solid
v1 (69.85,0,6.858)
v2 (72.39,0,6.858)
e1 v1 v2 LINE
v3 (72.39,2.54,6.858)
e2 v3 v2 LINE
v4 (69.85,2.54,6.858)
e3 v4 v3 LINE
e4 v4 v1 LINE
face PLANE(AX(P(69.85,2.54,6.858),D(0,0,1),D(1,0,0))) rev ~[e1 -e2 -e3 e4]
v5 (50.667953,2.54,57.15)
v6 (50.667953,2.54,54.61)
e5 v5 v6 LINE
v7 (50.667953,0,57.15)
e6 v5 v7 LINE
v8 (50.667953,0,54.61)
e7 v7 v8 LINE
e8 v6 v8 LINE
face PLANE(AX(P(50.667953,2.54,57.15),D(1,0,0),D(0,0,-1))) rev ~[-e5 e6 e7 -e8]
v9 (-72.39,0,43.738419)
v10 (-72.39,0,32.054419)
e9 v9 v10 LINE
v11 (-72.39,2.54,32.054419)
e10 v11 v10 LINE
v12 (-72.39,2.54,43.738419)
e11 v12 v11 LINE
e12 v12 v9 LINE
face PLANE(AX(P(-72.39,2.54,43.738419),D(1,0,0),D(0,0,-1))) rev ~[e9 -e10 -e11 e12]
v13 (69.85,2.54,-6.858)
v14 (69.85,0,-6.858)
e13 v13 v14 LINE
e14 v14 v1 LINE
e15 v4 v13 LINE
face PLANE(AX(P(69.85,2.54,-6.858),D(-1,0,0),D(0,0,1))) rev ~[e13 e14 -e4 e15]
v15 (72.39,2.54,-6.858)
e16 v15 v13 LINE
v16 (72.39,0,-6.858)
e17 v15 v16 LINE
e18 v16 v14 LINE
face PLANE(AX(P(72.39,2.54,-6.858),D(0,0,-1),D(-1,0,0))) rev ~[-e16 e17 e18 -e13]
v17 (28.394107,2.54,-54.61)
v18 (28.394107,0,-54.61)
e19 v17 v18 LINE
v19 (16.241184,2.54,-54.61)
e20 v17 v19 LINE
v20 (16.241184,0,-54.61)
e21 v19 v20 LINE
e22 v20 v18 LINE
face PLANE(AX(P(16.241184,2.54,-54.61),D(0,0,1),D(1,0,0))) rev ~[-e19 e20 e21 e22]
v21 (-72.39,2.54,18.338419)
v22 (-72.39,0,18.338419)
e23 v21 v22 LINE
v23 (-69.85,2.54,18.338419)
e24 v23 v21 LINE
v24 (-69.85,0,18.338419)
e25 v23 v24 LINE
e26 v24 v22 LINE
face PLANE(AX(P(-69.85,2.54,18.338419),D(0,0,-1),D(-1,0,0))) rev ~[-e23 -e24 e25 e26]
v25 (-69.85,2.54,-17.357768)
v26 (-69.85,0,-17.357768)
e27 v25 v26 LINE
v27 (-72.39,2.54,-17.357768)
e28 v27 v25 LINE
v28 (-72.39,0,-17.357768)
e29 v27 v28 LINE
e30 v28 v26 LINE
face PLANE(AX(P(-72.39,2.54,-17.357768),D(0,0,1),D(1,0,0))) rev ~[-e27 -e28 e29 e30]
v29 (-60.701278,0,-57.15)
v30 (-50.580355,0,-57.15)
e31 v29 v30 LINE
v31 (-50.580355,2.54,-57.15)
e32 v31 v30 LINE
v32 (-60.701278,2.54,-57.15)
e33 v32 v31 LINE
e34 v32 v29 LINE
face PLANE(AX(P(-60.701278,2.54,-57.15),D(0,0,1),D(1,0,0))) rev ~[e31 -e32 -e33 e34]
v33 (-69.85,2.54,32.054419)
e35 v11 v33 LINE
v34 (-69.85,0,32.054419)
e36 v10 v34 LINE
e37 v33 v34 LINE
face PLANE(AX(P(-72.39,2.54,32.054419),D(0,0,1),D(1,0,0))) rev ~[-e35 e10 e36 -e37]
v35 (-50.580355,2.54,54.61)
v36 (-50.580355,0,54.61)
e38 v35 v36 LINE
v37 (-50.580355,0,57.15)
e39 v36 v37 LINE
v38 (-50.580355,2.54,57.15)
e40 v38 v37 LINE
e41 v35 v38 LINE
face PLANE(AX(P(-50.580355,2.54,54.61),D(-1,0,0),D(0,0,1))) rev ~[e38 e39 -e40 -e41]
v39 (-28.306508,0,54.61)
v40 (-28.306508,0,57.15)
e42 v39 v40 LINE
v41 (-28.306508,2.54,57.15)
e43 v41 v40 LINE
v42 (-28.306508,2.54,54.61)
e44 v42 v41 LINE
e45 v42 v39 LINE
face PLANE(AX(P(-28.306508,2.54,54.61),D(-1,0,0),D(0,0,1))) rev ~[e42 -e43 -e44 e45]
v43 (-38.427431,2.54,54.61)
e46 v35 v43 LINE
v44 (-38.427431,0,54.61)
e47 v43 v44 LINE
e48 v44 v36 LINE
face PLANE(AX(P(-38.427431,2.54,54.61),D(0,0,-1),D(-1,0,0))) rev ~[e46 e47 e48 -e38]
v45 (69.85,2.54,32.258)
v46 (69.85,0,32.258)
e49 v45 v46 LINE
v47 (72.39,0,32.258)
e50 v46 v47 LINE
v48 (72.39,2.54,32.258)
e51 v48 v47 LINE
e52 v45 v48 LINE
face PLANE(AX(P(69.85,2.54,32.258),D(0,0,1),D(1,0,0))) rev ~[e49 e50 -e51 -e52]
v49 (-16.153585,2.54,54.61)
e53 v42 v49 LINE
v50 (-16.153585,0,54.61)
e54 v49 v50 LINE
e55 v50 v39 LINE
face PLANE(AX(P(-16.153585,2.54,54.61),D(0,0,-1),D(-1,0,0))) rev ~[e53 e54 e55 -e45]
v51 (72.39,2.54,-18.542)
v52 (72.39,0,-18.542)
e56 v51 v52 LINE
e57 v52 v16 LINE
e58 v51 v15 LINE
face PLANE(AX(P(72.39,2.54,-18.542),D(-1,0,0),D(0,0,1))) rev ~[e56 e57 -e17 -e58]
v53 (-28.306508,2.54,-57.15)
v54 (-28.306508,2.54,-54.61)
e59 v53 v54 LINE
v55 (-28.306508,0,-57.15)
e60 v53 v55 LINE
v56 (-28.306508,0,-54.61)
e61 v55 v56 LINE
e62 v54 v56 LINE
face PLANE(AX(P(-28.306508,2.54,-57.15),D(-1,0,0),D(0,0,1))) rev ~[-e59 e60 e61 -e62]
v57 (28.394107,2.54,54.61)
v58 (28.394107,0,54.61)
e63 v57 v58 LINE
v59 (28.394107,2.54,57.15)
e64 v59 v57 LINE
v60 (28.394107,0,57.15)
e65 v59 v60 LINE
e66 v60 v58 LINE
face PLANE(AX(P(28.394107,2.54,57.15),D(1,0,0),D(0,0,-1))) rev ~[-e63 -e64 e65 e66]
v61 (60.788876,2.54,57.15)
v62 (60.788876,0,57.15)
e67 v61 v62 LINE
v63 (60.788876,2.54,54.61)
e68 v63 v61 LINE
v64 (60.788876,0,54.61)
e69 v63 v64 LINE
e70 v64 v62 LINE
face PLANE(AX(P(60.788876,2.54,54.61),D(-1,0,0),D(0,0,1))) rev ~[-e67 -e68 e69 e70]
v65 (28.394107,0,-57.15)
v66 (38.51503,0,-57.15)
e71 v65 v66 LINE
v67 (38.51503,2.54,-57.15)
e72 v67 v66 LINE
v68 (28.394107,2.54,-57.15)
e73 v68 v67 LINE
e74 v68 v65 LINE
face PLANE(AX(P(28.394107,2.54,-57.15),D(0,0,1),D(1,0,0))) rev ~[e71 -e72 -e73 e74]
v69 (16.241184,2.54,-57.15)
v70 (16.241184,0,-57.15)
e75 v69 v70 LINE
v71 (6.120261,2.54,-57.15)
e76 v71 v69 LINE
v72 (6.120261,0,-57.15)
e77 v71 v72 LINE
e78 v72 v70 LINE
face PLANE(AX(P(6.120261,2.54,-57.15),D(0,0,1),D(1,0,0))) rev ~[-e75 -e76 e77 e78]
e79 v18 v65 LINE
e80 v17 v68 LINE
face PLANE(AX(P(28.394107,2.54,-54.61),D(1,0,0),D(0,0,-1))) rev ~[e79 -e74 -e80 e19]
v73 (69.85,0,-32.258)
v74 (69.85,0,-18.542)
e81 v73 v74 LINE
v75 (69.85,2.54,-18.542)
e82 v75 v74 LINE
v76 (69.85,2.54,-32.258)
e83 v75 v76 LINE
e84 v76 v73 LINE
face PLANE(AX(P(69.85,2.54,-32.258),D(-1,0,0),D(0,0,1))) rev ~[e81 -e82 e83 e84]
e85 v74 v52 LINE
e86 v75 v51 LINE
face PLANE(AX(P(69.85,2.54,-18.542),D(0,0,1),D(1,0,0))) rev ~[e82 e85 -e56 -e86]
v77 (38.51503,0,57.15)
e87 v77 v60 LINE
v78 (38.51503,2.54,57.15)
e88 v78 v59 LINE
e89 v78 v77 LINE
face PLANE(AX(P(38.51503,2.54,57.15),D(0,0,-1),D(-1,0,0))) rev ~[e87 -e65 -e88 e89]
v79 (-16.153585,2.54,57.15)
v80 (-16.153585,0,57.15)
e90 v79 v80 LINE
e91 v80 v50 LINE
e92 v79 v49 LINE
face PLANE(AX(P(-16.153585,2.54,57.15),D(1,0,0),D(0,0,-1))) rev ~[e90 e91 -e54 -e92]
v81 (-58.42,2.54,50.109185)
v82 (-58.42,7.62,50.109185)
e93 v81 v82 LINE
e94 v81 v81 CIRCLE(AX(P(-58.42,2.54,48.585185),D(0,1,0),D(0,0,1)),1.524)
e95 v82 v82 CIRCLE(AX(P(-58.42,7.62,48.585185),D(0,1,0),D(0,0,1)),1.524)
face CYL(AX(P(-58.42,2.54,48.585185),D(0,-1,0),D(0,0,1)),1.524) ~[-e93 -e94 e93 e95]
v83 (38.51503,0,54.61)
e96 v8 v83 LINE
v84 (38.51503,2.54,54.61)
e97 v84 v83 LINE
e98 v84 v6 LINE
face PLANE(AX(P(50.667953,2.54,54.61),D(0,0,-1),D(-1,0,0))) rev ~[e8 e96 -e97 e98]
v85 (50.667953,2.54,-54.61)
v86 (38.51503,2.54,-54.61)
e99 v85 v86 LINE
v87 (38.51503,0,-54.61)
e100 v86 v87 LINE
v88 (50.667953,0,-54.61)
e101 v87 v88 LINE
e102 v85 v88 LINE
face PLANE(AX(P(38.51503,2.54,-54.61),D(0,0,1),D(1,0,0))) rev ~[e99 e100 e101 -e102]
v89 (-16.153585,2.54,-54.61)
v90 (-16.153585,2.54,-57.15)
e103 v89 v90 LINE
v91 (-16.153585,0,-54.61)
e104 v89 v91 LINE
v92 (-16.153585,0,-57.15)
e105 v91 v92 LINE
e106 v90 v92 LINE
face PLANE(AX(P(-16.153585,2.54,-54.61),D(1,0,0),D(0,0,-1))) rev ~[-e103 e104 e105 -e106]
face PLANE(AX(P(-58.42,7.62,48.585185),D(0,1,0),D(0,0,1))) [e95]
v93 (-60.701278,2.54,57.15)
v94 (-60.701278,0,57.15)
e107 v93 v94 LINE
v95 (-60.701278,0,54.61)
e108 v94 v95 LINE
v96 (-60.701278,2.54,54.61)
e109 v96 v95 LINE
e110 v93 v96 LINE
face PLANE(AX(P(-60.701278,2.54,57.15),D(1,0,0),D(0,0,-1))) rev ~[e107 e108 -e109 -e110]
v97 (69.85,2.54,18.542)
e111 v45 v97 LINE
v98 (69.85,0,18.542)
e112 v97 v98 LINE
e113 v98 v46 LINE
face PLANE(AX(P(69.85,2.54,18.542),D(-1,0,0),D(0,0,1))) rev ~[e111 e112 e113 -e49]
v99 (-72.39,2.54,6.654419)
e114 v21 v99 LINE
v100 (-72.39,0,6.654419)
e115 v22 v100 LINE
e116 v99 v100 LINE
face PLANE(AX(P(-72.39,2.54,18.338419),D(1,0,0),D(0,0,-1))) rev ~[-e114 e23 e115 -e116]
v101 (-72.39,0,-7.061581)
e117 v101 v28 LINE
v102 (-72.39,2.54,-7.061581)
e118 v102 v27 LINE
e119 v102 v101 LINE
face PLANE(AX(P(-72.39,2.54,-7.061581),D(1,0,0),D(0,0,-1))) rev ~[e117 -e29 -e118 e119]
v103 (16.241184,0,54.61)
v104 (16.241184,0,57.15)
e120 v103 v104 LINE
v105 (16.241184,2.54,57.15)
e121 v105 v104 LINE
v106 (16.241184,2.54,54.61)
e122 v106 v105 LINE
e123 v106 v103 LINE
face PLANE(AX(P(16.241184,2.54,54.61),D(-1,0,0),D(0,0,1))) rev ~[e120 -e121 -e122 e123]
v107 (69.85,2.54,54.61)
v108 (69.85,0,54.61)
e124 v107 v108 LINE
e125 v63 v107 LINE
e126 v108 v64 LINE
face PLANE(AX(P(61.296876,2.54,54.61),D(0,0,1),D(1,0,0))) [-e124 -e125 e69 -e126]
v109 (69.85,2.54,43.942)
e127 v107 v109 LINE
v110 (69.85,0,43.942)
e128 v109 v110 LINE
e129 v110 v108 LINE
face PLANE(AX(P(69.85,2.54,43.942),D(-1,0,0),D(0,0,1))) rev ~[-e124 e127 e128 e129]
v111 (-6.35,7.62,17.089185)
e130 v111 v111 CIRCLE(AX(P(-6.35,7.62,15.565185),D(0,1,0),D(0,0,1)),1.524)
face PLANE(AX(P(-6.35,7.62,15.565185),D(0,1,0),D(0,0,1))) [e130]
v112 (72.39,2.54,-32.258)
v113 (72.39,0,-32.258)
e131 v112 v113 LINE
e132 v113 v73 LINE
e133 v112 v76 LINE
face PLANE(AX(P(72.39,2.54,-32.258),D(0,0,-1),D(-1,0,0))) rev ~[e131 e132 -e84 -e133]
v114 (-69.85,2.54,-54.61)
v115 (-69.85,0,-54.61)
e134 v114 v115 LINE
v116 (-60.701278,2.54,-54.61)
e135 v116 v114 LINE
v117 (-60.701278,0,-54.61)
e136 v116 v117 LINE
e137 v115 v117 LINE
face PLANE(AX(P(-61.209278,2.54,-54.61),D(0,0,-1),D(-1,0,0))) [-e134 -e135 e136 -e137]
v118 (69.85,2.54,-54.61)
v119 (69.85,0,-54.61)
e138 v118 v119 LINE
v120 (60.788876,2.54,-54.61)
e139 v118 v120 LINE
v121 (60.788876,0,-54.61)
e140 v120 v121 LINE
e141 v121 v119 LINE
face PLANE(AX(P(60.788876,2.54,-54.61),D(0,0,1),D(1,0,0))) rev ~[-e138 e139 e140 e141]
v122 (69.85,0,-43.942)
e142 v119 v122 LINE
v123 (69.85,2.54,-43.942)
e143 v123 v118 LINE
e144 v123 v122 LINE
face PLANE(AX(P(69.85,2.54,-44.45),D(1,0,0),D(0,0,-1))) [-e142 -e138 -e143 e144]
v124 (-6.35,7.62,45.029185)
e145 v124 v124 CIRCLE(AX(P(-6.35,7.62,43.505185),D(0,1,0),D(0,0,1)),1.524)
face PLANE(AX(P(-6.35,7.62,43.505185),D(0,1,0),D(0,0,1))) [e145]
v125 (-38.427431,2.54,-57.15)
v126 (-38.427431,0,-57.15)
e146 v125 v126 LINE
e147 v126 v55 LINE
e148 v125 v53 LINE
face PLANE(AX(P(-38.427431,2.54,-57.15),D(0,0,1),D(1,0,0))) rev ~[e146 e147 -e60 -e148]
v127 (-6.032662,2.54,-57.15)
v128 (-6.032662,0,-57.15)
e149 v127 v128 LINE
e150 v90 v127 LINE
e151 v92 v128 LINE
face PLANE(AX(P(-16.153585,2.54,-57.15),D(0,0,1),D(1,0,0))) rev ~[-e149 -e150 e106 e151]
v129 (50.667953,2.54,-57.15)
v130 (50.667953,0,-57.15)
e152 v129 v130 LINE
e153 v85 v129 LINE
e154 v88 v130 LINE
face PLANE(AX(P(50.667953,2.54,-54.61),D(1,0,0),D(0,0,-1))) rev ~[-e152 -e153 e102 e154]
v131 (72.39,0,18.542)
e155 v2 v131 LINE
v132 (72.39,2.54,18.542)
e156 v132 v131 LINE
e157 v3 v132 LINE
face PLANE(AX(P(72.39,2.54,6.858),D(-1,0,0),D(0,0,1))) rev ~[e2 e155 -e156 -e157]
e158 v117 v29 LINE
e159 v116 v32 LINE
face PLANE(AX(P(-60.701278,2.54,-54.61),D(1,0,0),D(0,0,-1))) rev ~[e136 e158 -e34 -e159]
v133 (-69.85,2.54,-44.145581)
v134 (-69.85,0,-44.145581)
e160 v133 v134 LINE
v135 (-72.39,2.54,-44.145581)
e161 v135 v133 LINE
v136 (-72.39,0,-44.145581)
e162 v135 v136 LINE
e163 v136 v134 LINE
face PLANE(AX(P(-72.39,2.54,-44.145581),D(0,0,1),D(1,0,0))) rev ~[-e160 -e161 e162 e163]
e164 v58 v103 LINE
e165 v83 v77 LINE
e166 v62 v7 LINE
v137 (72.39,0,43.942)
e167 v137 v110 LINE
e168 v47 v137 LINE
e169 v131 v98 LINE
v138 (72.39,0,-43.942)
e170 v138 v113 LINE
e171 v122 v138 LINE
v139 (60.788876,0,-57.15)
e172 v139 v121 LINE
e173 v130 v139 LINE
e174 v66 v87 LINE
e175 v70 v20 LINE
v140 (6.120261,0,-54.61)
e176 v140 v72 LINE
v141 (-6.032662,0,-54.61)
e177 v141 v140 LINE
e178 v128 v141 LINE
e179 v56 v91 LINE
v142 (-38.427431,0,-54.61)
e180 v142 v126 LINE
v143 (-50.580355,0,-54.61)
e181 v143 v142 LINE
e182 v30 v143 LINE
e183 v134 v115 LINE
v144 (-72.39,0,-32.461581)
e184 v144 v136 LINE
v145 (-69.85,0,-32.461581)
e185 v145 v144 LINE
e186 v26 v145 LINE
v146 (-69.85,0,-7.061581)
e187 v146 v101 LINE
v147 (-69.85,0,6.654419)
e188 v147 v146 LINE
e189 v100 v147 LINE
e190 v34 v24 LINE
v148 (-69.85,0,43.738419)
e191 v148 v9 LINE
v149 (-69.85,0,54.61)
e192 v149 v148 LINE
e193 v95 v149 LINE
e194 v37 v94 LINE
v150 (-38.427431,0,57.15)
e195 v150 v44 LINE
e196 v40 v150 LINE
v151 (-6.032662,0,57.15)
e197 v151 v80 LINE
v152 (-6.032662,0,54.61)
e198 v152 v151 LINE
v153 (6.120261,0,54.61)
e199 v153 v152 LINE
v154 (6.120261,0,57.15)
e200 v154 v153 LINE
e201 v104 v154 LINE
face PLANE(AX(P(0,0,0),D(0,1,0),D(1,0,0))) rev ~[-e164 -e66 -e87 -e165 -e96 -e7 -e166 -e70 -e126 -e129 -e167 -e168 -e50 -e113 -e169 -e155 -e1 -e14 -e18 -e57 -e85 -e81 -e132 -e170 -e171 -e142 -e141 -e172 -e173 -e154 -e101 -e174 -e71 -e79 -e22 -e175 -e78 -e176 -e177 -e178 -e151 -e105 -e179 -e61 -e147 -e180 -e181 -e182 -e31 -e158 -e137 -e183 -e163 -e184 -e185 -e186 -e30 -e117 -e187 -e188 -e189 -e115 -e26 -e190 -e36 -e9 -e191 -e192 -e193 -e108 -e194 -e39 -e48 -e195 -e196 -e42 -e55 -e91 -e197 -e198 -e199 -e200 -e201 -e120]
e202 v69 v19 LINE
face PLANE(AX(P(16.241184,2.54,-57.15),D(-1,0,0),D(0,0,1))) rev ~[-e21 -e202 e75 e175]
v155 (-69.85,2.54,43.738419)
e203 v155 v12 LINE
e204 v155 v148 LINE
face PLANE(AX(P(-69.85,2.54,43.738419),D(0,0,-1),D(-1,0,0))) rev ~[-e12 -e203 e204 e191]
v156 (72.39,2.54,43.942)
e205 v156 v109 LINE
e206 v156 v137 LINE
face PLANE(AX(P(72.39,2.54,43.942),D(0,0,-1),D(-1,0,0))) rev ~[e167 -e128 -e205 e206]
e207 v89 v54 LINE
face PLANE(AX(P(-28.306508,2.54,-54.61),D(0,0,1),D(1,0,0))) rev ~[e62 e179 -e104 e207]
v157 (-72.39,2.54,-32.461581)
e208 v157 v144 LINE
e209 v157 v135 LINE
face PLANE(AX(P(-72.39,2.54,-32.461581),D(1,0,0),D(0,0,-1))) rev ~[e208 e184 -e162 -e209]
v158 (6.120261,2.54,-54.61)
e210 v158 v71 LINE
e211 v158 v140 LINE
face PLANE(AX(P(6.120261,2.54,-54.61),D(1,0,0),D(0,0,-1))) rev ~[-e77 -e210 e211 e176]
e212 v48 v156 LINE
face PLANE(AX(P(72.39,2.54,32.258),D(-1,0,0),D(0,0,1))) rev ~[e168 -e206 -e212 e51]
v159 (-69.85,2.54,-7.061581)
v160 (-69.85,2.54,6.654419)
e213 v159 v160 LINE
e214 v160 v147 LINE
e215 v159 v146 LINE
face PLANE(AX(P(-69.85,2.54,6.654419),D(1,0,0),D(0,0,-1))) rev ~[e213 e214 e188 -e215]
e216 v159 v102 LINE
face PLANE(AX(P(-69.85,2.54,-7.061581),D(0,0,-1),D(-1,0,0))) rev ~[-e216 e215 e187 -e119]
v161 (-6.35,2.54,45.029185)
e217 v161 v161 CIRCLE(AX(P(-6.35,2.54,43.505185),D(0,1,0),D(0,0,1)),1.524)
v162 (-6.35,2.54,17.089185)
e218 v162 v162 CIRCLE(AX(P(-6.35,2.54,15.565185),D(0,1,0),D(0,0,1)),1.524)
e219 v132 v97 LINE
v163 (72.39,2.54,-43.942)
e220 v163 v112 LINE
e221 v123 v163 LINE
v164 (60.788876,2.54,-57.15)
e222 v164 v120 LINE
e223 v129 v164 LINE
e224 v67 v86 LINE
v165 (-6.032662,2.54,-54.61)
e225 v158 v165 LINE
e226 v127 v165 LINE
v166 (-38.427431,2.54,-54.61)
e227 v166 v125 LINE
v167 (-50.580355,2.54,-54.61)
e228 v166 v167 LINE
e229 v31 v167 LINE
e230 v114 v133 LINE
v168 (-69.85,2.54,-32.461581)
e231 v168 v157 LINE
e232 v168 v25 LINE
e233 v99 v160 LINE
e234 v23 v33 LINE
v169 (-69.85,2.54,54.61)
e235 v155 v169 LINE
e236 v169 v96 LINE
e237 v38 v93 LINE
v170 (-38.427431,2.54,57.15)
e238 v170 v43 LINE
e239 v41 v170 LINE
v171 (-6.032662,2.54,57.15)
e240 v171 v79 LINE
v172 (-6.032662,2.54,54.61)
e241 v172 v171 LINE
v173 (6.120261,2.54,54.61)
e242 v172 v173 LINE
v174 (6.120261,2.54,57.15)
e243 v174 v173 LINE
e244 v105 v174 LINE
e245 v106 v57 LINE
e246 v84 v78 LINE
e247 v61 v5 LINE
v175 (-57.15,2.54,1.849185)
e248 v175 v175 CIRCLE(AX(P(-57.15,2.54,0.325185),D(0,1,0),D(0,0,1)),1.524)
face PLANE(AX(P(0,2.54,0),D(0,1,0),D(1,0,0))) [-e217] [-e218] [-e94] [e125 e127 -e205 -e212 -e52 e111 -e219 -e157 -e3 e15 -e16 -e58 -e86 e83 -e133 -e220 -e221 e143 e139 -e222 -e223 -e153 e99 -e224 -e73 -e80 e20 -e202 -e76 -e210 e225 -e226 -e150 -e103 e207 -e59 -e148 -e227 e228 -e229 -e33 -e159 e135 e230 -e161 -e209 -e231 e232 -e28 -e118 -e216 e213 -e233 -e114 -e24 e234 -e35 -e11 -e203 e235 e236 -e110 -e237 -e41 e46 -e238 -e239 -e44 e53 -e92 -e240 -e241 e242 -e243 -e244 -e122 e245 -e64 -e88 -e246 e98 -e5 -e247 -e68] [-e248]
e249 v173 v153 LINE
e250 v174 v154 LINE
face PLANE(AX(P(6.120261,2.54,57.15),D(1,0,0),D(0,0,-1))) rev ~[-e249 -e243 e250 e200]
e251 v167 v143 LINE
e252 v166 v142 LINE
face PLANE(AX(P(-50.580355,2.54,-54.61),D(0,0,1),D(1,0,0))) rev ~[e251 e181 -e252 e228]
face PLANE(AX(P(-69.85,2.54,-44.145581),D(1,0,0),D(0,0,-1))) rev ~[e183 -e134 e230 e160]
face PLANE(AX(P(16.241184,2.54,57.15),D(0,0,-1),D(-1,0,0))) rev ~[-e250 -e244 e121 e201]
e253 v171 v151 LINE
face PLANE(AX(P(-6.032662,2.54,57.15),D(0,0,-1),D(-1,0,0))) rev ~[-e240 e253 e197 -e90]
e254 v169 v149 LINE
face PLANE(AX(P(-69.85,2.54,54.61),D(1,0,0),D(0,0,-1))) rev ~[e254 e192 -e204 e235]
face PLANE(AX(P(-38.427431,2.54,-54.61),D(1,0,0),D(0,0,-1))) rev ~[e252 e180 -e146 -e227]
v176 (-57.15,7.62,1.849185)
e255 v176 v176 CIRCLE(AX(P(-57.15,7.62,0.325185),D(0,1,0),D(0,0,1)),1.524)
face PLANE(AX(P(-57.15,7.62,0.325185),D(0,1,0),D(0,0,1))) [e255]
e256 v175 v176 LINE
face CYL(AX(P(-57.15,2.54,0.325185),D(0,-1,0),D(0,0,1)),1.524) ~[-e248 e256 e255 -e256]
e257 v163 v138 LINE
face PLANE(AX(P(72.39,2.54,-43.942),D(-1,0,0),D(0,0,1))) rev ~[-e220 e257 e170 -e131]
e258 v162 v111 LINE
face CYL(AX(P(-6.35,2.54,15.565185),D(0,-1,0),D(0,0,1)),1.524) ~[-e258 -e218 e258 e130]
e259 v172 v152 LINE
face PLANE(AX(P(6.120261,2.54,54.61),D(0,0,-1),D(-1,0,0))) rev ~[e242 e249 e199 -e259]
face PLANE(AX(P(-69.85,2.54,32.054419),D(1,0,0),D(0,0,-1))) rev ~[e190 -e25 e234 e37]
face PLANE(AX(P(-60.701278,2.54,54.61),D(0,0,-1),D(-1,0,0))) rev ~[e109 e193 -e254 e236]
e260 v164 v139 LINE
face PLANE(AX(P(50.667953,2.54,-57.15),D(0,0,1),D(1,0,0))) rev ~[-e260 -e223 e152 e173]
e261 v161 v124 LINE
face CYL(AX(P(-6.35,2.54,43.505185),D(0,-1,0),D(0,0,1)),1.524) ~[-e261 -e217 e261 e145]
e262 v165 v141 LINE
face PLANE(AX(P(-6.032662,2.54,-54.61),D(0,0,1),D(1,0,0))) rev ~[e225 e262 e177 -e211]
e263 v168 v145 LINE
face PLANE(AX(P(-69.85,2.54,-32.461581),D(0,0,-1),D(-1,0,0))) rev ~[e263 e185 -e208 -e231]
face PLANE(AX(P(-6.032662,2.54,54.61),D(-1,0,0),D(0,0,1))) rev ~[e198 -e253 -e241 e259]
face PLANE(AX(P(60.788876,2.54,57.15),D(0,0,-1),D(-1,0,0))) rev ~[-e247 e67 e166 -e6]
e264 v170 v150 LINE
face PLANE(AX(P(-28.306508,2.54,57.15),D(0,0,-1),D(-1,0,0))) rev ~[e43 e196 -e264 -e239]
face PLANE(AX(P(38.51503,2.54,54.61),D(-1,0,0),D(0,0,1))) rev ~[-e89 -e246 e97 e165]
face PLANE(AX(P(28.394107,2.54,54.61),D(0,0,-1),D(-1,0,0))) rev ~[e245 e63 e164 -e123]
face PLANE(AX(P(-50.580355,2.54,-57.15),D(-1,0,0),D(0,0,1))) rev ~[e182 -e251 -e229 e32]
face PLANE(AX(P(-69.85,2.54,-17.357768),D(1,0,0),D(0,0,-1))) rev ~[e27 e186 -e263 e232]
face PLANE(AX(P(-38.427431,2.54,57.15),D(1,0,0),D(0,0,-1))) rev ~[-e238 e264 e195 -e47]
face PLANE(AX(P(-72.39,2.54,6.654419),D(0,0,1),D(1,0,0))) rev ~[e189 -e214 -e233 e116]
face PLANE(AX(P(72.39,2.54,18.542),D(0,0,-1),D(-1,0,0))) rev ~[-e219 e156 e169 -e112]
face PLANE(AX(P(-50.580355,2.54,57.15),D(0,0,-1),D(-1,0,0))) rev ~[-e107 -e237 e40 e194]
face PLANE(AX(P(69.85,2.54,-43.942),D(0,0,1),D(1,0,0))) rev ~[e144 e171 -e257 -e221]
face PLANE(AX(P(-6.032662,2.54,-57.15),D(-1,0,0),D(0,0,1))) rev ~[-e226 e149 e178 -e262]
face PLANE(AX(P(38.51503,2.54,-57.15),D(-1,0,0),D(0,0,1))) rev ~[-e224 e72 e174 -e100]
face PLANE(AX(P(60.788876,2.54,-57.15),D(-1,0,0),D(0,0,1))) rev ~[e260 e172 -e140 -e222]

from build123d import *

# Parameters (mm, degrees)
SKETCH1_W           = 144.78
SKETCH1_H           = 114.3
BOSS_EXTRUDE1_DEPTH = 63.5
SKETCH2_W           = 144.78
SKETCH2_H           = 114.3
CUT_EXTRUDE1_DEPTH  = 60.96
SKETCH3_R           = 1.524
BOSS_EXTRUDE2_DEPTH = 5.08
SKETCH4_OUTSIDE_W   = 183.704
SKETCH4_OUTSIDE_H   = 153.224
CUT_EXTRUDE2_DEPTH  = 2.54
SKETCH6_OUTSIDE_W   = 183.704
SKETCH6_OUTSIDE_H   = 153.224
CUT_EXTRUDE4_DEPTH  = 2.54


with BuildPart() as part:
    # Sketch1 → Boss-Extrude1 (new body)
    with BuildSketch(Plane(origin=(0, 0, 0), x_dir=(1, 0, 0), z_dir=(0, 1, 0))):
        Rectangle(SKETCH1_W, SKETCH1_H)
    extrude(amount=BOSS_EXTRUDE1_DEPTH)

    # Sketch2 → Cut-Extrude1 (cut)
    with BuildSketch(Plane(origin=(0, 63.5, 0), x_dir=(1, 0, 0), z_dir=(0, 1, 0))):
        Rectangle(SKETCH2_W, SKETCH2_H)
    extrude(amount=-CUT_EXTRUDE1_DEPTH, mode=Mode.SUBTRACT)

    # Sketch3 → Boss-Extrude2 (add)
    with BuildSketch(Plane(origin=(0, 2.54, 0), x_dir=(1, 0, 0), z_dir=(0, 1, 0))):
        with Locations(Location((-58.42, -48.585184876, 0), (0, 0, 270))):
            Circle(SKETCH3_R)
        with Locations(Location((-6.35, -43.505184876, 0), (0, 0, 270))):
            Circle(SKETCH3_R)
        with Locations(Location((-6.35, -15.565184876, 0), (0, 0, 270))):
            Circle(SKETCH3_R)
        with Locations(Location((-57.15, -0.325184876, 0), (0, 0, 270))):
            Circle(SKETCH3_R)
    extrude(amount=BOSS_EXTRUDE2_DEPTH)

    # Sketch4 outside → Cut-Extrude2 (cut)
    with BuildSketch(Plane(origin=(0, 2.54, 0), x_dir=(1, 0, 0), z_dir=(0, 1, 0))):
        Rectangle(SKETCH4_OUTSIDE_W, SKETCH4_OUTSIDE_H)
        Polygon((69.85, 54.61), (61.296876225, 54.61), (61.296876225, 57.15), (50.159953148, 57.15), (50.159953148, 54.61), (39.023030071, 54.61), (39.023030071, 57.15), (27.886106994, 57.15), (27.886106994, 54.61), (16.749183917, 54.61), (16.749183917, 57.15), (5.61226084, 57.15), (5.61226084, 54.61), (-5.524662236, 54.61), (-5.524662236, 57.15), (-16.661585313, 57.15), (-16.661585313, 54.61), (-27.79850839, 54.61), (-27.79850839, 57.15), (-38.935431467, 57.15), (-38.935431467, 54.61), (-50.072354544, 54.61), (-50.072354544, 57.15), (-61.209277621, 57.15), (-61.209277621, 54.61), (-69.85, 54.61), (-69.85, 44.653580836), (-72.39, 44.653580836), (-72.39, 31.953580836), (-69.85, 31.953580836), (-69.85, 19.253580836), (-72.39, 19.253580836), (-72.39, 6.553580836), (-69.85, 6.553580836), (-69.85, -6.146419164), (-72.39, -6.146419164), (-72.39, -18.846419164), (-69.85, -18.846419164), (-69.85, -31.546419164), (-72.39, -31.546419164), (-72.39, -44.246419164), (-69.85, -44.246419164), (-69.85, -54.61), (-61.209277621, -54.61), (-61.209277621, -57.15), (-50.072354544, -57.15), (-50.072354544, -54.61), (-38.935431467, -54.61), (-38.935431467, -57.15), (-27.79850839, -57.15), (-27.79850839, -54.61), (-16.661585313, -54.61), (-16.661585313, -57.15), (-5.524662236, -57.15), (-5.524662236, -54.61), (5.61226084, -54.61), (5.61226084, -57.15), (16.749183917, -57.15), (16.749183917, -54.61), (27.886106994, -54.61), (27.886106994, -57.15), (39.023030071, -57.15), (39.023030071, -54.61), (50.159953148, -54.61), (50.159953148, -57.15), (61.296876225, -57.15), (61.296876225, -54.61), (69.85, -54.61), (69.85, -44.45), (72.39, -44.45), (72.39, -31.75), (69.85, -31.75), (69.85, -19.05), (72.39, -19.05), (72.39, -6.35), (69.85, -6.35), (69.85, 6.35), (72.39, 6.35), (72.39, 19.05), (69.85, 19.05), (69.85, 31.75), (72.39, 31.75), (72.39, 44.45), (69.85, 44.45), align=None, mode=Mode.SUBTRACT)
    extrude(amount=-CUT_EXTRUDE2_DEPTH, mode=Mode.SUBTRACT)

    # Sketch6 outside → Cut-Extrude4 (cut)
    with BuildSketch(Plane(origin=(0, 2.54, 0), x_dir=(1, 0, 0), z_dir=(0, 1, 0))):
        Rectangle(SKETCH6_OUTSIDE_W, SKETCH6_OUTSIDE_H)
        Polygon((-69.85, 54.61), (-60.701277621, 54.61), (-60.701277621, 57.15), (-50.580354544, 57.15), (-50.580354544, 54.61), (-38.427431467, 54.61), (-38.427431467, 57.15), (-28.30650839, 57.15), (-28.30650839, 54.61), (-16.153585313, 54.61), (-16.153585313, 57.15), (-6.032662236, 57.15), (-6.032662236, 54.61), (6.12026084, 54.61), (6.12026084, 57.15), (16.241183917, 57.15), (16.241183917, 54.61), (28.394106994, 54.61), (28.394106994, 57.15), (38.515030071, 57.15), (38.515030071, 54.61), (50.667953148, 54.61), (50.667953148, 57.15), (60.788876225, 57.15), (60.788876225, 54.61), (69.85, 54.61), (69.85, 43.942), (72.39, 43.942), (72.39, 32.258), (69.85, 32.258), (69.85, 18.542), (72.39, 18.542), (72.39, 6.858), (69.85, 6.858), (69.85, -6.858), (72.39, -6.858), (72.39, -18.542), (69.85, -18.542), (69.85, -32.258), (72.39, -32.258), (72.39, -43.942), (69.85, -43.942), (69.85, -54.61), (60.788876225, -54.61), (60.788876225, -57.15), (50.667953148, -57.15), (50.667953148, -54.61), (38.515030071, -54.61), (38.515030071, -57.15), (28.394106994, -57.15), (28.394106994, -54.61), (16.241183917, -54.61), (16.241183917, -57.15), (6.12026084, -57.15), (6.12026084, -54.61), (-6.032662236, -54.61), (-6.032662236, -57.15), (-16.153585313, -57.15), (-16.153585313, -54.61), (-28.30650839, -54.61), (-28.30650839, -57.15), (-38.427431467, -57.15), (-38.427431467, -54.61), (-50.580354544, -54.61), (-50.580354544, -57.15), (-60.701277621, -57.15), (-60.701277621, -54.61), (-69.85, -54.61), (-69.85, -43.738419164), (-72.39, -43.738419164), (-72.39, -32.054419164), (-69.85, -32.054419164), (-69.85, -18.338419164), (-72.39, -18.338419164), (-72.39, -6.654419164), (-69.85, -6.654419164), (-69.85, 7.061580836), (-72.39, 7.061580836), (-72.39, 17.357767978), (-69.85, 17.357767978), (-69.85, 32.461580836), (-72.39, 32.461580836), (-72.39, 44.145580836), (-69.85, 44.145580836), align=None, mode=Mode.SUBTRACT)
    extrude(amount=-CUT_EXTRUDE4_DEPTH, mode=Mode.SUBTRACT)


solid = part.part
